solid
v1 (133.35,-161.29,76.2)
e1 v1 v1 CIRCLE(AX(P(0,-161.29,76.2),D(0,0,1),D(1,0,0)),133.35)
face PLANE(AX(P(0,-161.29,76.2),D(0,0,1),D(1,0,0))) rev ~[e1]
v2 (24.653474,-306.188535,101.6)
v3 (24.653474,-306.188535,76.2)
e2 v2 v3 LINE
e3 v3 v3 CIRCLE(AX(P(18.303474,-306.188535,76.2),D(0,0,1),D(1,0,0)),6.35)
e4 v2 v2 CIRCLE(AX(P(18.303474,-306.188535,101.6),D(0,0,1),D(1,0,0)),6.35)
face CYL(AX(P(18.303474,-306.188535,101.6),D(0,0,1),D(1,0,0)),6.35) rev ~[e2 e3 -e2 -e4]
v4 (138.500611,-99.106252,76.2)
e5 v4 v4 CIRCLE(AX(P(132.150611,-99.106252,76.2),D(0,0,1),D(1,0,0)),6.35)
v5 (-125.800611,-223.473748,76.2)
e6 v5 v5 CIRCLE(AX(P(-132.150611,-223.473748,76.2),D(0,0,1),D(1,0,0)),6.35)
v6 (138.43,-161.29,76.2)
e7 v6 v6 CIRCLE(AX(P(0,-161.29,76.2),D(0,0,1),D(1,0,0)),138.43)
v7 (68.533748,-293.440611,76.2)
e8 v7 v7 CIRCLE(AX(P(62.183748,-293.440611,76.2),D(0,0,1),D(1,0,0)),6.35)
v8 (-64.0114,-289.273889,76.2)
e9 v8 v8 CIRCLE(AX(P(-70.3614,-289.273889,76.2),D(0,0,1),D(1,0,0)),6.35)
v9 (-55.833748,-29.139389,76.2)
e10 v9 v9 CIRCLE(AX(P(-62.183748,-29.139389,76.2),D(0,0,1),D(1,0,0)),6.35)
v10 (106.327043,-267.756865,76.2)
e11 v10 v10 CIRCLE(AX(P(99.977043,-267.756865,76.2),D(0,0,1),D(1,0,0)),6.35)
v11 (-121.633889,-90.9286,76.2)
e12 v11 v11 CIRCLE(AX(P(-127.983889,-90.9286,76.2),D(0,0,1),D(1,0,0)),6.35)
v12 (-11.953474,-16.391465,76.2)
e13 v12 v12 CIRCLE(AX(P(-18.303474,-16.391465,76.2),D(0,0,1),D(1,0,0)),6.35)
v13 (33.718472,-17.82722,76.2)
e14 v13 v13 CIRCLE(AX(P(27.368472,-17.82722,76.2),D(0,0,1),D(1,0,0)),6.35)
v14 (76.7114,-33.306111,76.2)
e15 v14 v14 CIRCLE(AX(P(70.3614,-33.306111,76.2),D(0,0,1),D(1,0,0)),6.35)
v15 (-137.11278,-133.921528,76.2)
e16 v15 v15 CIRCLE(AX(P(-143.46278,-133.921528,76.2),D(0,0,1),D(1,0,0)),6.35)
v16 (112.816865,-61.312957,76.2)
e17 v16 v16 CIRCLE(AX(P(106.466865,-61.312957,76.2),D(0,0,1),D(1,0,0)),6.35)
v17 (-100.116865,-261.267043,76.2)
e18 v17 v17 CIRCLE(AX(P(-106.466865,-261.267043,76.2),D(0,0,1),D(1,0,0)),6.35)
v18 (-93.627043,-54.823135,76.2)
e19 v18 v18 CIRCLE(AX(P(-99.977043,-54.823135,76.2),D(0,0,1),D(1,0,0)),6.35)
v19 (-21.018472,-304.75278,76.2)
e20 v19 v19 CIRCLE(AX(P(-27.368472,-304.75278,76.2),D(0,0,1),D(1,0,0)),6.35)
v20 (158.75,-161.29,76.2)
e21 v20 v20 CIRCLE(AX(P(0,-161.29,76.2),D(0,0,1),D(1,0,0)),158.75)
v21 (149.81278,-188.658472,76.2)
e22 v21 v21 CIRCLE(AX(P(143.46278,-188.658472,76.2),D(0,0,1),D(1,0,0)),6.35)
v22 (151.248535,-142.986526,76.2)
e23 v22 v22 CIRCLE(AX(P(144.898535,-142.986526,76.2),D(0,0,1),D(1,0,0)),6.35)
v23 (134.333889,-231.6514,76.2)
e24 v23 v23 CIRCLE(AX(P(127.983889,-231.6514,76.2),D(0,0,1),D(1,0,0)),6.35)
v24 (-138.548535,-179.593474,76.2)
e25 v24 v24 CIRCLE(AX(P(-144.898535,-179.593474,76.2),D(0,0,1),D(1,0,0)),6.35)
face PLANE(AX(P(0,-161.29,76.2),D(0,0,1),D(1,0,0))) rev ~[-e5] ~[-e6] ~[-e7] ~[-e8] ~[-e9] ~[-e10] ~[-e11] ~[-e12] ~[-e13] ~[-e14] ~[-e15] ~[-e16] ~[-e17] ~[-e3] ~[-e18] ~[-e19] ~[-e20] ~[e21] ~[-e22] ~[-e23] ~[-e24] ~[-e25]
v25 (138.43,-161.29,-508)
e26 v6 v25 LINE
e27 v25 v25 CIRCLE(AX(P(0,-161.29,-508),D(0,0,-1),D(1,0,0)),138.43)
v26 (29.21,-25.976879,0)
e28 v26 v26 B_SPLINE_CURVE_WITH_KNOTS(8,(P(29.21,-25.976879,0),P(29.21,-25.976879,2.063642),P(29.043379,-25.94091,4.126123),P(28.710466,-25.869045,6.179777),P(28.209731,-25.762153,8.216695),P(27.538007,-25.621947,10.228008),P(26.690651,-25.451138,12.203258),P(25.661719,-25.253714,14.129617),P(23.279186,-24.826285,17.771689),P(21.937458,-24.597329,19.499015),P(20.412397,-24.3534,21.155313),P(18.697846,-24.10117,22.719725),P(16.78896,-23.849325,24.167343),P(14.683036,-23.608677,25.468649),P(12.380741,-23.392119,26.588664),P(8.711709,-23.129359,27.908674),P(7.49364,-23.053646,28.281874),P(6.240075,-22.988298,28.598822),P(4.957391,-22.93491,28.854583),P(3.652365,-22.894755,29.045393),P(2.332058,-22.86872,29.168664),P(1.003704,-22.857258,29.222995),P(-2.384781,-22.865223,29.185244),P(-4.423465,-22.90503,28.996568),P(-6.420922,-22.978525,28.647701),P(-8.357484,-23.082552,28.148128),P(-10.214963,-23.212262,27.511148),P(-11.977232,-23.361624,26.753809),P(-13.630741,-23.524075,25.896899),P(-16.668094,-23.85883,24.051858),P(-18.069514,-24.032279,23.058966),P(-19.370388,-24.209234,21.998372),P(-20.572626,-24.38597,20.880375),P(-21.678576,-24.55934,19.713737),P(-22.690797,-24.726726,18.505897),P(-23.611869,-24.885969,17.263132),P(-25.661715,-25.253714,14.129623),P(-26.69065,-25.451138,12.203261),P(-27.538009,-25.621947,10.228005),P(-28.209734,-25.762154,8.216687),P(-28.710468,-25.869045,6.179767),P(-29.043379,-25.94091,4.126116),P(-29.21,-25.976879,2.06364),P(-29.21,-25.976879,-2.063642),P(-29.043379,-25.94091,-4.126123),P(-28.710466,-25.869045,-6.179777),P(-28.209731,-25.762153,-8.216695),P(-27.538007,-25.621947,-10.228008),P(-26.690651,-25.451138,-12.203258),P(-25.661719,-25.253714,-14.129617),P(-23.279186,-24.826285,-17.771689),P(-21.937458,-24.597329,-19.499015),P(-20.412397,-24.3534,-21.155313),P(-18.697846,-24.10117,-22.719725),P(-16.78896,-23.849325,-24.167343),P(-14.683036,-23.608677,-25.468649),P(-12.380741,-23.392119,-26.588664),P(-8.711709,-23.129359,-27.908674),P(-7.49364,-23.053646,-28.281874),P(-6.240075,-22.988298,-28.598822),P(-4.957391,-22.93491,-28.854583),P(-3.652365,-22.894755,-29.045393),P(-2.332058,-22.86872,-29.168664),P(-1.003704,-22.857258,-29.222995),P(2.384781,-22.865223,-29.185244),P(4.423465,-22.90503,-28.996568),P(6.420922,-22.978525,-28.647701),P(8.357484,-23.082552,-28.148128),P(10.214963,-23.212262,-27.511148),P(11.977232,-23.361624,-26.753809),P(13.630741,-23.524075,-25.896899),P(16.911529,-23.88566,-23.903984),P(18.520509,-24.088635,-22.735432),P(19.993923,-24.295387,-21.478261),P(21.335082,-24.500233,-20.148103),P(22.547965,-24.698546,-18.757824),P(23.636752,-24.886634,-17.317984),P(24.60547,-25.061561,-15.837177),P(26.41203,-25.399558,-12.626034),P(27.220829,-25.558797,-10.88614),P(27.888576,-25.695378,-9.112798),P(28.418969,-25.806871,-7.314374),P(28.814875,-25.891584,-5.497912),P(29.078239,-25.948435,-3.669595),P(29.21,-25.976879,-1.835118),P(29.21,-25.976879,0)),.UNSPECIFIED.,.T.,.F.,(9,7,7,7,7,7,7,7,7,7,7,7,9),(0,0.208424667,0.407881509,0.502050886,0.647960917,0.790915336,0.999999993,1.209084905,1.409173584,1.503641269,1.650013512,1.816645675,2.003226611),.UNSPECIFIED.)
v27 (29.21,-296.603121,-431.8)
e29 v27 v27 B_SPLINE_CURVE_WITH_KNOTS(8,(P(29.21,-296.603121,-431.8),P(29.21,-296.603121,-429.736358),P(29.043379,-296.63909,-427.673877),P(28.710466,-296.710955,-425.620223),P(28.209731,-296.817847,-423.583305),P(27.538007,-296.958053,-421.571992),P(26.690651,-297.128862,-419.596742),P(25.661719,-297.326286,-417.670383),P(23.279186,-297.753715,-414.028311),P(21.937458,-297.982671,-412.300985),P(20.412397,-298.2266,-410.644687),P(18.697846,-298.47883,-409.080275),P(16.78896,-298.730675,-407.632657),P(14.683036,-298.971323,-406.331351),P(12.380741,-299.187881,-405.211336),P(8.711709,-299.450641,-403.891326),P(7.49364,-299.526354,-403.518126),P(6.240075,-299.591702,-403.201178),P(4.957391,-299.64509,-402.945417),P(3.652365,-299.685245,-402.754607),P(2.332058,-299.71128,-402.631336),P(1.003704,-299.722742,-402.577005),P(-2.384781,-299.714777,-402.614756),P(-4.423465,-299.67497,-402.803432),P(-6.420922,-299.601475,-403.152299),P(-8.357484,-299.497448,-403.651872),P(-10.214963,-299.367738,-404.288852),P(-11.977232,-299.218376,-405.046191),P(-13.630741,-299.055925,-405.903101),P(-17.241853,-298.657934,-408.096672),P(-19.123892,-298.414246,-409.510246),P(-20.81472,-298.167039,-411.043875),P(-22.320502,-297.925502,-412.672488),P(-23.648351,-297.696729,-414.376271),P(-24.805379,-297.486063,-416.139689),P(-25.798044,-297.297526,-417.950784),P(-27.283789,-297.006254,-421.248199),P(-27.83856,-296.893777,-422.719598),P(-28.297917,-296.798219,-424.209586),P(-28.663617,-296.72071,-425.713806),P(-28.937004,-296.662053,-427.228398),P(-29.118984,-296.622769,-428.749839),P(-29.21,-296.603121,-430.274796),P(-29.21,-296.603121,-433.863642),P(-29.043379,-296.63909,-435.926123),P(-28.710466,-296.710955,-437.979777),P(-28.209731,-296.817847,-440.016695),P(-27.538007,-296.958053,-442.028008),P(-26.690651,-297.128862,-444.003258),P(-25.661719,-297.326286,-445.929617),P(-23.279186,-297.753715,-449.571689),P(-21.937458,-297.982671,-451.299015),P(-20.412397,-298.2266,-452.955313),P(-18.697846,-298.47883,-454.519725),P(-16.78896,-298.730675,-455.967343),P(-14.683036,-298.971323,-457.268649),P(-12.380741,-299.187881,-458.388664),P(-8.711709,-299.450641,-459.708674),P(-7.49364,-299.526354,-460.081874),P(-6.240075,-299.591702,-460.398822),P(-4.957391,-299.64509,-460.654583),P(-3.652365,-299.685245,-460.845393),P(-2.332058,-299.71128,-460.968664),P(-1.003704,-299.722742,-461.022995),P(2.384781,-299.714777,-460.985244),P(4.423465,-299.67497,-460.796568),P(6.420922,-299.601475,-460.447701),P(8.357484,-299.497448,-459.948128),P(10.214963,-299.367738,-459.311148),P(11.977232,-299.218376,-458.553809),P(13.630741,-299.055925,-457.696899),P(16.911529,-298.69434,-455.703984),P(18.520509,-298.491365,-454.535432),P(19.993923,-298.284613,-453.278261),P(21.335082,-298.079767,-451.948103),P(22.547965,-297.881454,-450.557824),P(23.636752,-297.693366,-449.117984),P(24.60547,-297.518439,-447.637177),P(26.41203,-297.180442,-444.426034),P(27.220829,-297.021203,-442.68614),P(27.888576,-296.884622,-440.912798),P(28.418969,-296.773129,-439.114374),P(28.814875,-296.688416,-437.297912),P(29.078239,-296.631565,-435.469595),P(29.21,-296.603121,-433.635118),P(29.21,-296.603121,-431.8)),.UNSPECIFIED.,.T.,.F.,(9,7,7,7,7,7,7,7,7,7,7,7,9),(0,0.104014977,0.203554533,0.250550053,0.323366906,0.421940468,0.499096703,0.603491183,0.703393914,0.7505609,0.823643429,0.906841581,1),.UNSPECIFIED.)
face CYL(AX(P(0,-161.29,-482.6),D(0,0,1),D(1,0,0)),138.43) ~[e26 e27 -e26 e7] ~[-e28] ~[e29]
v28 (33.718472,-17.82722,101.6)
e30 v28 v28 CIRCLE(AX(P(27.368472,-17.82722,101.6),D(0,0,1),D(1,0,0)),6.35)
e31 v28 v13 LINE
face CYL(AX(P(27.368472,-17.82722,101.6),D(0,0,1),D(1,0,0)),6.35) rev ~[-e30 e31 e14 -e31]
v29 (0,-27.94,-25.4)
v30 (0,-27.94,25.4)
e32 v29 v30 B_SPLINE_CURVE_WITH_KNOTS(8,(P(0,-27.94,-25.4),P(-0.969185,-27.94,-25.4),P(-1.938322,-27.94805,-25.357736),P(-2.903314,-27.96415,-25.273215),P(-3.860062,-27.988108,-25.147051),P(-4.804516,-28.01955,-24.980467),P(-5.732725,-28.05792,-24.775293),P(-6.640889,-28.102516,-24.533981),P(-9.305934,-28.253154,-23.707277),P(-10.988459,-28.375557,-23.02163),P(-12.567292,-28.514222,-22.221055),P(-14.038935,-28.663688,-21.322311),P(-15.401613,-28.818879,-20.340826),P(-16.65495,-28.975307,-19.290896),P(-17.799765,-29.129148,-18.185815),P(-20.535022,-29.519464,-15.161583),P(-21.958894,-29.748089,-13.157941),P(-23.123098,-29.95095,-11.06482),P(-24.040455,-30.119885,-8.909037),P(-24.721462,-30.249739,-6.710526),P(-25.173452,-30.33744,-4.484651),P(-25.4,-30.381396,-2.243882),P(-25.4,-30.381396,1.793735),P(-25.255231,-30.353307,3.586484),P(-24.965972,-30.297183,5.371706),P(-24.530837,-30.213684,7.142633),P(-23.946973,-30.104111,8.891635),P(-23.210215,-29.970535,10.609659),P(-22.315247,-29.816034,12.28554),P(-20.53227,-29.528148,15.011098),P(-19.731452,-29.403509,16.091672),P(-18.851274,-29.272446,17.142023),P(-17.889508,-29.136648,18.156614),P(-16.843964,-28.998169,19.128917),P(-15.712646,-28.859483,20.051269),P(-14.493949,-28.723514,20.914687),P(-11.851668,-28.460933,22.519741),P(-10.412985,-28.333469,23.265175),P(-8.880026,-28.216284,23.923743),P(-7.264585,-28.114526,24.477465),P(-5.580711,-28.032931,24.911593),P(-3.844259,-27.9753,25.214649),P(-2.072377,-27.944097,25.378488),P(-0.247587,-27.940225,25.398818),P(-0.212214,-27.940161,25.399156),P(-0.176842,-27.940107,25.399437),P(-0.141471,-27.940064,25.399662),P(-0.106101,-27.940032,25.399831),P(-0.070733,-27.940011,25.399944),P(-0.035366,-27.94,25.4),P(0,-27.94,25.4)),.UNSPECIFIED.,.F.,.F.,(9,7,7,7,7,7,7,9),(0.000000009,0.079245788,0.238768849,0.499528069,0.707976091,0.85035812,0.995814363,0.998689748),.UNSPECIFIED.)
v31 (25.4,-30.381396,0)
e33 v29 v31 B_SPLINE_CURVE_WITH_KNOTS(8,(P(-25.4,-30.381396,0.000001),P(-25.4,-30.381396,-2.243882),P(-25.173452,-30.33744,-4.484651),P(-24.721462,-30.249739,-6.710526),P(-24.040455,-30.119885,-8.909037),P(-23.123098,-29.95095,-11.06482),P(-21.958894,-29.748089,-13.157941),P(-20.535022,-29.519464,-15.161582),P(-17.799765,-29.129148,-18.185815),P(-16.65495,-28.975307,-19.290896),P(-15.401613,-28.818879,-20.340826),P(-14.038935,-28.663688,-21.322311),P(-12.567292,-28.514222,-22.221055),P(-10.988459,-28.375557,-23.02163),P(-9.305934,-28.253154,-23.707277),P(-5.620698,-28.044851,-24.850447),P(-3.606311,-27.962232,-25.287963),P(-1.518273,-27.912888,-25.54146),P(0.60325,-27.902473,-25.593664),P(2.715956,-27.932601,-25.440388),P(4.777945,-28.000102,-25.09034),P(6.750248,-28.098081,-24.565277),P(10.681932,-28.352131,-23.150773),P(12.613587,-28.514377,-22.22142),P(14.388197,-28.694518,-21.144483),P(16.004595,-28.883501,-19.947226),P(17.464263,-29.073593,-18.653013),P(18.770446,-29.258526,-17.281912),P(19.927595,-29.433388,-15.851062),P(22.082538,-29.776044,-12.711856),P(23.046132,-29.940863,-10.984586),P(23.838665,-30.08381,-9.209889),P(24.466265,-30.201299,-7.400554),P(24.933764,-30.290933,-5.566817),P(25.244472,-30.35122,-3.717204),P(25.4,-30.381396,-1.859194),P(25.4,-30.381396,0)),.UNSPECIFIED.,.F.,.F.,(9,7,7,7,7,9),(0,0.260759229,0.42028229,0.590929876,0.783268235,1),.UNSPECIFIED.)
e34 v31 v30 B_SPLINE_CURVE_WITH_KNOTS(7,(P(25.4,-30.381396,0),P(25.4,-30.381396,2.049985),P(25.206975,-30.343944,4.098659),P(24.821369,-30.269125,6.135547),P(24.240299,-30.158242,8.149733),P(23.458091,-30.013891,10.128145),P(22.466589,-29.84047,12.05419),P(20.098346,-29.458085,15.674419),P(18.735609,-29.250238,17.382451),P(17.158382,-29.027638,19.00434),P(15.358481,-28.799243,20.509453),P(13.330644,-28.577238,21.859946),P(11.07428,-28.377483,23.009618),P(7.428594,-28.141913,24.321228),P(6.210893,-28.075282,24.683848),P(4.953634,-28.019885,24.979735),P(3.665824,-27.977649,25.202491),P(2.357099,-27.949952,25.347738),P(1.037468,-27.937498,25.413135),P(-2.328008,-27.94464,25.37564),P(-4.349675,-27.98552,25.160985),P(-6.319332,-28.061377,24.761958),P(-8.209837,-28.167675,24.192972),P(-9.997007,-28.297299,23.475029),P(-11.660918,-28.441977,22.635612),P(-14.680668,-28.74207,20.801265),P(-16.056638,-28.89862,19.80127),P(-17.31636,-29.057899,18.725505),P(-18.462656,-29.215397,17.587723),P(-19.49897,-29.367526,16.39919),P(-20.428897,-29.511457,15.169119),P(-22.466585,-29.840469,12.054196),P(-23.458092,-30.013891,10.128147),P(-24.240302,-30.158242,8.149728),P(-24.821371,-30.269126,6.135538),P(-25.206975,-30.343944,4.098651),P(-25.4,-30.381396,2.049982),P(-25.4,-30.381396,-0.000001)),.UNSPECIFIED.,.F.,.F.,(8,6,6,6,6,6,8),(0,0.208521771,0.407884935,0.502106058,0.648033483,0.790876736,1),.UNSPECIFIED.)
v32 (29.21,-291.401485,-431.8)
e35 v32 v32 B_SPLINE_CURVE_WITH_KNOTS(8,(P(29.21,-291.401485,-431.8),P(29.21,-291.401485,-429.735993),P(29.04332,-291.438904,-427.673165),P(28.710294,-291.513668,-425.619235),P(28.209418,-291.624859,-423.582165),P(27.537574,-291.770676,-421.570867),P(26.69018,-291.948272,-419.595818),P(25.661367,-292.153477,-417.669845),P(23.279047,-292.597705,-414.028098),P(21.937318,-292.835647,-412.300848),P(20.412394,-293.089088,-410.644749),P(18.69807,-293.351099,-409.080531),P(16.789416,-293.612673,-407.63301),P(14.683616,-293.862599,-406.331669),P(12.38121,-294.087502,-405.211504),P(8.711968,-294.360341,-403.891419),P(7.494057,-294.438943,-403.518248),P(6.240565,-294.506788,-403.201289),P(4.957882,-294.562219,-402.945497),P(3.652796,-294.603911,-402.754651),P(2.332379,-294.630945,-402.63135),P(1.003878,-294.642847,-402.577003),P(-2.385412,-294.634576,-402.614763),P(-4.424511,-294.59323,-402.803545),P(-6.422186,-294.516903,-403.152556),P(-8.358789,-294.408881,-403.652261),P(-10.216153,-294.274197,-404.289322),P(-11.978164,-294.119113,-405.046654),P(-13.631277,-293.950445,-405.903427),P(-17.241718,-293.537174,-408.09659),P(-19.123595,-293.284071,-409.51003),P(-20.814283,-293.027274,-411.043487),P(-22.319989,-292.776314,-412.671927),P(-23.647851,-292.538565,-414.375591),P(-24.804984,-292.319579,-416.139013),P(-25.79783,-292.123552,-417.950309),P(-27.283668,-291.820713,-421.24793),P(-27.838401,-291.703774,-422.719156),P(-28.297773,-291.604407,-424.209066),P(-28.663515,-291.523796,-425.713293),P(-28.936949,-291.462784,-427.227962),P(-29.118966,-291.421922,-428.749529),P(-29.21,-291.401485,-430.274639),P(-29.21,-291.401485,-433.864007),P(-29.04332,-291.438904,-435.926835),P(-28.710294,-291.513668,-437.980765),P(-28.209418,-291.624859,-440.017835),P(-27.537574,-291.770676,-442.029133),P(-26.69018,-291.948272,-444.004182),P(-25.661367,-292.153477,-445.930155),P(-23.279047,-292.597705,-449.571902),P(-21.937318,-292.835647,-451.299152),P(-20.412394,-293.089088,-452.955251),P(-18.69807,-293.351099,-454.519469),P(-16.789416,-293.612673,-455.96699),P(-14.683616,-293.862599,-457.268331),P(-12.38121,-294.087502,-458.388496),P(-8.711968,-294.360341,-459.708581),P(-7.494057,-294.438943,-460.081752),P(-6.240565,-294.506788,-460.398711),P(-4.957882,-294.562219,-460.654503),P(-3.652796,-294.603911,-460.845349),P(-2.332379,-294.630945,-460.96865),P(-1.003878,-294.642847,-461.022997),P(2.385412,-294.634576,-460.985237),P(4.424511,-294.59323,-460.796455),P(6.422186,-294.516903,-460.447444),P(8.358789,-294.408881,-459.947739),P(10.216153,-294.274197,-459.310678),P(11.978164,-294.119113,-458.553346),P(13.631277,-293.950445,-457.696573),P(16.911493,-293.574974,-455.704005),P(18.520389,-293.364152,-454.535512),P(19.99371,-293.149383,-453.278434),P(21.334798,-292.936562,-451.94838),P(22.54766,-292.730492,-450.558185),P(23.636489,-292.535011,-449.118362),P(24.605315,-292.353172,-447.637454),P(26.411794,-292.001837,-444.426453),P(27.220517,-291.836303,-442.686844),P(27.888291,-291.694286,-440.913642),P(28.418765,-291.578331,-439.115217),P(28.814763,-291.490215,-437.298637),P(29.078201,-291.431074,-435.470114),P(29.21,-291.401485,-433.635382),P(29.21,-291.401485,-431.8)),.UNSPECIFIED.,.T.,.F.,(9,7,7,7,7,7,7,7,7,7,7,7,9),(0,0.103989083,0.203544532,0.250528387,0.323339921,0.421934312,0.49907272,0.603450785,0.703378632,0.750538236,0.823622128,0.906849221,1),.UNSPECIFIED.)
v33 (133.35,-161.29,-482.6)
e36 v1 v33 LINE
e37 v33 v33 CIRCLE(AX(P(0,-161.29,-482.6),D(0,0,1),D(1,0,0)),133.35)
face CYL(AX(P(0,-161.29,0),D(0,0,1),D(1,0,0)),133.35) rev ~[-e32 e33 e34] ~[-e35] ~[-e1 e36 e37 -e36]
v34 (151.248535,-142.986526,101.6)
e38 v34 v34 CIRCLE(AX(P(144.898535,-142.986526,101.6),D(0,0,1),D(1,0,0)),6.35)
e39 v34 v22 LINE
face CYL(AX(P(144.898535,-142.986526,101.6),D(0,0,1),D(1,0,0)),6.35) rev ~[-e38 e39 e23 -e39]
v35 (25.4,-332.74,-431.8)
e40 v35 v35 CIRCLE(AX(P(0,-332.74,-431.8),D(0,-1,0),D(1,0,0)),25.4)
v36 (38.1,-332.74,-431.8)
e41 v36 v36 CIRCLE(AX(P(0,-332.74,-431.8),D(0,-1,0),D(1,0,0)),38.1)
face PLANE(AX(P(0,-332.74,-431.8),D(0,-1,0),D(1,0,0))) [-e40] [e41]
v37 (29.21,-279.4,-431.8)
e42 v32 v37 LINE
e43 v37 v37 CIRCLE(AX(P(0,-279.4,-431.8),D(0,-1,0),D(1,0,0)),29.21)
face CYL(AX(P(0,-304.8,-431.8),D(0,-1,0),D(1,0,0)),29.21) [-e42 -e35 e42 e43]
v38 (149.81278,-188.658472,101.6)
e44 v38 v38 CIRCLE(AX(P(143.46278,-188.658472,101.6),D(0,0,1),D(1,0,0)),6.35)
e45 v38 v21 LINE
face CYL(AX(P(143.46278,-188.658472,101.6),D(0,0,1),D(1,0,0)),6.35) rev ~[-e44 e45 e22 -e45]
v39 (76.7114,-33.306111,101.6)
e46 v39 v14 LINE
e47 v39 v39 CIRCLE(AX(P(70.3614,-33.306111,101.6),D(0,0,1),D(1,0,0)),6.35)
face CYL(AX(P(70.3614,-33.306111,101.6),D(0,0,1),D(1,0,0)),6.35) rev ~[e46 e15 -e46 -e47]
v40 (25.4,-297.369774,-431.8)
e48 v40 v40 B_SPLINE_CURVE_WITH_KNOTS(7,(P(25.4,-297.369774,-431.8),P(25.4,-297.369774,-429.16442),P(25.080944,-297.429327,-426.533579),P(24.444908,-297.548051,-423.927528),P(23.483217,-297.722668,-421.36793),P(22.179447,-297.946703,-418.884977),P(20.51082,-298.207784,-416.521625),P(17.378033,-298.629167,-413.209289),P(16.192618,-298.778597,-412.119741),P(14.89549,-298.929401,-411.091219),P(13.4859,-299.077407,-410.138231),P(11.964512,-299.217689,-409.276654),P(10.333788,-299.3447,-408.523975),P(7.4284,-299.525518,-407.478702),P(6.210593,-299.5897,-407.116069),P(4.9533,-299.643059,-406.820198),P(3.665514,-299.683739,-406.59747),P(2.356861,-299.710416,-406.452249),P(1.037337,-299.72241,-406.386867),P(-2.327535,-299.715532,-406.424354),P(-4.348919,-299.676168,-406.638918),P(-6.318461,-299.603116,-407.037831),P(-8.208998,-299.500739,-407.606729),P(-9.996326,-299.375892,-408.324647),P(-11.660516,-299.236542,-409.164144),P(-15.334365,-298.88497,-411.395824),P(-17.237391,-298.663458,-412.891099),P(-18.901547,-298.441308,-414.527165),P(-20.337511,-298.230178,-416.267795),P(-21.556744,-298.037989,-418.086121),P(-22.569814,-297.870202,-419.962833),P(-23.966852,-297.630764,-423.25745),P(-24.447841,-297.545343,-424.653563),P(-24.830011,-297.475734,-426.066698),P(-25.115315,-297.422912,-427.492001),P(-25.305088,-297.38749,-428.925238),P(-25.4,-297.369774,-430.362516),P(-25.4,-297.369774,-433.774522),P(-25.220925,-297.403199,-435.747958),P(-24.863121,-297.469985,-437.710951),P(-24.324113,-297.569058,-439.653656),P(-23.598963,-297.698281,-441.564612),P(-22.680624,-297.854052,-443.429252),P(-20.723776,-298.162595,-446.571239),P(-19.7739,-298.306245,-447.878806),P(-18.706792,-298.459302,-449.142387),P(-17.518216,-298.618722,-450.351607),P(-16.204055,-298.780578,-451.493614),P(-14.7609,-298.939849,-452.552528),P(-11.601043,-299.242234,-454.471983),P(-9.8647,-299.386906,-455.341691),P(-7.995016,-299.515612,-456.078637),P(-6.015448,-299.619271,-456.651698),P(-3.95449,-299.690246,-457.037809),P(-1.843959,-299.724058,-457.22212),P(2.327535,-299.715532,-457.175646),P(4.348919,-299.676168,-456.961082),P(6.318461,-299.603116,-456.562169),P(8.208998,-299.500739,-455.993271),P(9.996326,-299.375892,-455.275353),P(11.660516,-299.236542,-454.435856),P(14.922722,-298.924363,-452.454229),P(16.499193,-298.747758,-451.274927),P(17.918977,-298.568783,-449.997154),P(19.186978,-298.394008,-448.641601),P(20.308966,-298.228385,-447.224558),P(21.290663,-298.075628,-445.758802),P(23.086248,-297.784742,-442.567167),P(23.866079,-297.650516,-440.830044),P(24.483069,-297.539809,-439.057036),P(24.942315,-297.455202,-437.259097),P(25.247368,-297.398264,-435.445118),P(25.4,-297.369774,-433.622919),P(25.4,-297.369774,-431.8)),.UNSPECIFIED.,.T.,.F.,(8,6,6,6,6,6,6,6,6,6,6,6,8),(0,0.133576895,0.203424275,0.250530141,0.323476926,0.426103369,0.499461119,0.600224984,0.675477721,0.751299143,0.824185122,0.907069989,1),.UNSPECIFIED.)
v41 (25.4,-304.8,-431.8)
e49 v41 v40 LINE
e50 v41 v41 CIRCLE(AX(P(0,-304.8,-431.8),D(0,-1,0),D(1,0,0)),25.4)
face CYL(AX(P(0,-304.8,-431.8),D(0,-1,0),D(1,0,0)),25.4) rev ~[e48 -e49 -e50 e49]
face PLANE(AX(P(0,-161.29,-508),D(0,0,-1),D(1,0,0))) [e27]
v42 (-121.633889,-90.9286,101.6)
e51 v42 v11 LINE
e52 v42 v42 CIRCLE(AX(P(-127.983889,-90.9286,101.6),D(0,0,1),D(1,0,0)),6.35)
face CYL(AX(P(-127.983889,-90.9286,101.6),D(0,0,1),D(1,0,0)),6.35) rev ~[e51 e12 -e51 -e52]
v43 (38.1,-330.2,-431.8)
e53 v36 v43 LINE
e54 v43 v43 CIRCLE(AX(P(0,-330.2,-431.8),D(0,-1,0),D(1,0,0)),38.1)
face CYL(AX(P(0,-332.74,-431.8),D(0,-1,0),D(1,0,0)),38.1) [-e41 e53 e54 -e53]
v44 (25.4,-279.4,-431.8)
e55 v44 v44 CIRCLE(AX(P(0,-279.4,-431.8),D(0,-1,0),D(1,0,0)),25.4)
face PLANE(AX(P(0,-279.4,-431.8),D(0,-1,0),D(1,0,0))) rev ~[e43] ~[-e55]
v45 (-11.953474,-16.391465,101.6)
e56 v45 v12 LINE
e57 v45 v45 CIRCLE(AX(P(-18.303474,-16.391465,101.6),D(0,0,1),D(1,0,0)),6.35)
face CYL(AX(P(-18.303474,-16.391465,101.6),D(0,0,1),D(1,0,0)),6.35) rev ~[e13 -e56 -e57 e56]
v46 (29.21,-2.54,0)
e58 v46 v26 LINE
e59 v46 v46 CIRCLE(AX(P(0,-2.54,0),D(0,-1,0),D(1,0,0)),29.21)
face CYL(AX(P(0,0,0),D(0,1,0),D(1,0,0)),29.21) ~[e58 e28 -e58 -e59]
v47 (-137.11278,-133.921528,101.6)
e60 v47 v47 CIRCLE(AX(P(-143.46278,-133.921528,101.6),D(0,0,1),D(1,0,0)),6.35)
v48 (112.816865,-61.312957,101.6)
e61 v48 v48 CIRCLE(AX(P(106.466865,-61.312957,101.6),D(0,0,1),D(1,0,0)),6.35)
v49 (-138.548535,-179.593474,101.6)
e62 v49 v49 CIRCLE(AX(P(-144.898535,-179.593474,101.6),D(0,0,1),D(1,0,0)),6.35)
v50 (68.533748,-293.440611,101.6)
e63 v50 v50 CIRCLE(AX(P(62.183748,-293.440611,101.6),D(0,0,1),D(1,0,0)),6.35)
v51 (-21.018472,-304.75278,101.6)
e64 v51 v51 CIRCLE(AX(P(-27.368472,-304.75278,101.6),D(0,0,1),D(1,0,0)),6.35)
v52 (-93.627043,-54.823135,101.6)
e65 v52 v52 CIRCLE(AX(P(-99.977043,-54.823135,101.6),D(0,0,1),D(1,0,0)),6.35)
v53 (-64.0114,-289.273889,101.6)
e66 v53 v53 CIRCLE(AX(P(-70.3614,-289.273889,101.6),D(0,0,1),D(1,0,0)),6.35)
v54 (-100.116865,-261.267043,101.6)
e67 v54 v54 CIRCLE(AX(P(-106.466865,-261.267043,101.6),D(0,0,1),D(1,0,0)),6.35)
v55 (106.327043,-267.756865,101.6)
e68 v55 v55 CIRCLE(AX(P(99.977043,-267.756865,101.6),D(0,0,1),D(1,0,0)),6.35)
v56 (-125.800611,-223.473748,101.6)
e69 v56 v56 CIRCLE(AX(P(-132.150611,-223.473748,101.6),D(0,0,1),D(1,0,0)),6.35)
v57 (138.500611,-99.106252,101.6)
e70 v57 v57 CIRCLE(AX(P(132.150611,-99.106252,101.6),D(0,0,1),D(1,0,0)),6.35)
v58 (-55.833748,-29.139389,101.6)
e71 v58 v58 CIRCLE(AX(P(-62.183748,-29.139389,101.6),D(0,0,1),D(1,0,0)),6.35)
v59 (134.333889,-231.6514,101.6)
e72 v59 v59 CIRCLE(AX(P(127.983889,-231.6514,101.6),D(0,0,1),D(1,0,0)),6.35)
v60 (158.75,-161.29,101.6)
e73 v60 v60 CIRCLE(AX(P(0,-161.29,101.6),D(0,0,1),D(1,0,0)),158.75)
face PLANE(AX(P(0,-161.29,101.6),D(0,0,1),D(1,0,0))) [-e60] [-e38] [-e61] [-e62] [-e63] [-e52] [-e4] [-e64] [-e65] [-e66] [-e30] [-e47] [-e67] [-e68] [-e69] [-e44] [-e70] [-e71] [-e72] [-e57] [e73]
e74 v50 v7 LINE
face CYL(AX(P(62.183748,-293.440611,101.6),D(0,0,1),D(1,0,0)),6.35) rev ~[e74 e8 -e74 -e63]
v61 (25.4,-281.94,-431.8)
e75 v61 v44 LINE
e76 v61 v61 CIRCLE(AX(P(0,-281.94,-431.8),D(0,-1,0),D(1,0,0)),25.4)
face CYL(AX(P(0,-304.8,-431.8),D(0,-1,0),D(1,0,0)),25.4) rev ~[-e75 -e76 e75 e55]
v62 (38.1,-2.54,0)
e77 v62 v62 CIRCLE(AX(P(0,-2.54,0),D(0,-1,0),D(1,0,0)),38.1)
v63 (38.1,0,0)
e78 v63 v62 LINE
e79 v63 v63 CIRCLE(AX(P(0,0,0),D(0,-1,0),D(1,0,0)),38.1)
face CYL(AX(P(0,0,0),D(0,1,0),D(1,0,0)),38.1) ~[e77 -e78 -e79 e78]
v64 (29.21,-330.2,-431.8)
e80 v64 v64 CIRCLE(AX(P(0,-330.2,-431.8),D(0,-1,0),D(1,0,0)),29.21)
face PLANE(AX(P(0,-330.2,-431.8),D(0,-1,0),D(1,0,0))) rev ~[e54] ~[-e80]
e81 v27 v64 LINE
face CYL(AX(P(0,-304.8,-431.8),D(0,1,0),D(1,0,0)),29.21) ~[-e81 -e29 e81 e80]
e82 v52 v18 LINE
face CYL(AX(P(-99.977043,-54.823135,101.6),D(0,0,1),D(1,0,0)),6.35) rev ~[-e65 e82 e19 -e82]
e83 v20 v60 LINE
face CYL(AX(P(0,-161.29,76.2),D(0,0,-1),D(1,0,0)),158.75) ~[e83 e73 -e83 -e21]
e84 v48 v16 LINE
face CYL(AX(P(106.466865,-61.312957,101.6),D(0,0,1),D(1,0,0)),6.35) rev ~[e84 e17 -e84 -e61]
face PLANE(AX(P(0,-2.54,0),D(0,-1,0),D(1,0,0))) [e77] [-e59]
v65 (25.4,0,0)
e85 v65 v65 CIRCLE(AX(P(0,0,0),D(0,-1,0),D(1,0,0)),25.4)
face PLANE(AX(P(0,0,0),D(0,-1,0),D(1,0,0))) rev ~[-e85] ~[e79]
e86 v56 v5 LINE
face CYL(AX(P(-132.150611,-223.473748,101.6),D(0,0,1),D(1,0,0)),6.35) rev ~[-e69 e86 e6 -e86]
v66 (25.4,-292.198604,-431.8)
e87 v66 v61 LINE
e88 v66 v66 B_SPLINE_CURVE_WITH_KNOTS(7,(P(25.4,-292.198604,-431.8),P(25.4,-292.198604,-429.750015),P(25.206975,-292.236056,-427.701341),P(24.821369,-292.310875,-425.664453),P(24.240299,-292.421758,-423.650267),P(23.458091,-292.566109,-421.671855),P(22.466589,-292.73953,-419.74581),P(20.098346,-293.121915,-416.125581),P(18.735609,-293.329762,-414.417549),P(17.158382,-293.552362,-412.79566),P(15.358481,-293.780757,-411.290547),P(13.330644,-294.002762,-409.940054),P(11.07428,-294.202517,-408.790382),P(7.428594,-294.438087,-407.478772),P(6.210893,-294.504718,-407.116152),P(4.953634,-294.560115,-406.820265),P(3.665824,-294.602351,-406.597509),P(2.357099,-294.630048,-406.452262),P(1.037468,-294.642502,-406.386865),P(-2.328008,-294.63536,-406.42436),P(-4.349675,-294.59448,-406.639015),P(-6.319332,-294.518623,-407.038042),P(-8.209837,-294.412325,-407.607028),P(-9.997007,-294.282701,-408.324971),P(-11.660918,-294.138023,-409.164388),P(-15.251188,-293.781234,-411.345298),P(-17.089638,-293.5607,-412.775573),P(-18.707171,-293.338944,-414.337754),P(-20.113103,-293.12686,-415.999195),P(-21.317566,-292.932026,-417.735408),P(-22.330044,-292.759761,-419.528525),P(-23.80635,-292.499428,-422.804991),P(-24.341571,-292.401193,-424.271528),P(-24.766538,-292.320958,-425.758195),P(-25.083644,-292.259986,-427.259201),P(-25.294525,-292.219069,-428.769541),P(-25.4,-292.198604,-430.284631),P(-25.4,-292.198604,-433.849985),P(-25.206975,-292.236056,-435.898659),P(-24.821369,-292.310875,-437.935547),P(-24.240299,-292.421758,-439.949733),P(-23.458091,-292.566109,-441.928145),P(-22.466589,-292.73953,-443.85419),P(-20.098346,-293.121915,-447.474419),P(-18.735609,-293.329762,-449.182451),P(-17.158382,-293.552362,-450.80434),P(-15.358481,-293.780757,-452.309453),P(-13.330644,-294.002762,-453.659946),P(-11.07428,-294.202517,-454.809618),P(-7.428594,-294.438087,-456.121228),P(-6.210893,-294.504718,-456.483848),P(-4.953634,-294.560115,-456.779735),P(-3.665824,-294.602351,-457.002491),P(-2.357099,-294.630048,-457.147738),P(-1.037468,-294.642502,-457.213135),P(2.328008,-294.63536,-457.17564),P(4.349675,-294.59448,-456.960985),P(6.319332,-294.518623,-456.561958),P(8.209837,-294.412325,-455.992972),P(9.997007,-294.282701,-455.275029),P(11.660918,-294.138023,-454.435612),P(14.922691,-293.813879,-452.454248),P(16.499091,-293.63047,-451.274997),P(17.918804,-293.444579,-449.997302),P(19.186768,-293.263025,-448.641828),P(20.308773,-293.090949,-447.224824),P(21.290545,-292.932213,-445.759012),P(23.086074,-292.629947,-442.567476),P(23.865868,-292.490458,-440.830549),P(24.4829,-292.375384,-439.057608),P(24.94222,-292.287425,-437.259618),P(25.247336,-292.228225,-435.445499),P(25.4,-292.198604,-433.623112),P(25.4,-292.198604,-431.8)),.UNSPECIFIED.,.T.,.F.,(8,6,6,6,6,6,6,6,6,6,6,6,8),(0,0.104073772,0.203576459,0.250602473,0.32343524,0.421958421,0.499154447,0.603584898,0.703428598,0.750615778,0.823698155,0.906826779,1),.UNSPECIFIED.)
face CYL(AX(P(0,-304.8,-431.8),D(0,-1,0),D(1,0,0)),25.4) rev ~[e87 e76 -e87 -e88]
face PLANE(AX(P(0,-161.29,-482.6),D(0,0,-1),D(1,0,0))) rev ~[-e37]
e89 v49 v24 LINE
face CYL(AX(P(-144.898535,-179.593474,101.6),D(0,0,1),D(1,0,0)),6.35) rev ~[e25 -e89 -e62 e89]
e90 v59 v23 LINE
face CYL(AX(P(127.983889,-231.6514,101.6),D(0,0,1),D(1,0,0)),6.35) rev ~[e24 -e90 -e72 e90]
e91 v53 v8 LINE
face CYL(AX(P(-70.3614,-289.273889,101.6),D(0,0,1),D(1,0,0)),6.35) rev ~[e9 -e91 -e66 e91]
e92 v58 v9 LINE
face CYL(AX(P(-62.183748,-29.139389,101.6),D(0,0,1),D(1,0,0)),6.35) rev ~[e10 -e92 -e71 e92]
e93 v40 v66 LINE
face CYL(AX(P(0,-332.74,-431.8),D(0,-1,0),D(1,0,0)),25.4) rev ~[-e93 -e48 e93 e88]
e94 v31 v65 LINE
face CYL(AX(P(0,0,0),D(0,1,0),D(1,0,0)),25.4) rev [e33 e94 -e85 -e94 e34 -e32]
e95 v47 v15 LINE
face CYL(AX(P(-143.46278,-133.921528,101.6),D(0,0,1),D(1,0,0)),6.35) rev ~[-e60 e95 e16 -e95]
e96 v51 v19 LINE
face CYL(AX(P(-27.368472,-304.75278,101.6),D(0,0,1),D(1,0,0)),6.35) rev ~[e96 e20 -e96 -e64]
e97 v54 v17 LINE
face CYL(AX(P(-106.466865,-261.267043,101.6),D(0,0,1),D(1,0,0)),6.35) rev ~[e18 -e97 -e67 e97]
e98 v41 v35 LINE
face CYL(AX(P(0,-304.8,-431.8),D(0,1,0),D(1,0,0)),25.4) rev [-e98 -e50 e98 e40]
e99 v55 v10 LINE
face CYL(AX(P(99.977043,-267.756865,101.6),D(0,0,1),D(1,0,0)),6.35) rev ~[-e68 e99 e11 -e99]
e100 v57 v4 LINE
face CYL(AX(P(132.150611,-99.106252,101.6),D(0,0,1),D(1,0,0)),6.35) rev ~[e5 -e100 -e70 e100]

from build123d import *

# Parameters (mm, degrees)
F0_R           = 29.21
F0_R_2         = 25.4
F1_DEPTH       = 27.94
F0_R_3         = 38.1
F2_DEPTH       = 2.54
F3_R           = 138.43
F3_R_2         = 133.35
F4_DEPTH       = 76.2
F4_DEPTH_BACK  = 482.6
F5_DEPTH       = 47.498
F6_R           = 158.75
F7_DEPTH       = 25.4
F8_R           = 6.35
F9_DEPTH       = 25.4
F10_R          = 138.43
F11_DEPTH      = 25.4
F13_R          = 29.21
F13_R_2        = 25.4
F14_DEPTH      = 25.4
F14_DEPTH_BACK = 27.94
F15_R          = 38.1
F15_R_2        = 29.21
F16_DEPTH      = 2.54
F15_R_3        = 25.4
F17_DEPTH      = 50.8


with BuildPart() as f1:
    # F0 (on Front) → F1 (new body)
    with BuildSketch(Plane.XZ):
        Circle(F0_R)
        Circle(F0_R_2, mode=Mode.SUBTRACT)
    extrude(amount=F1_DEPTH)

    # F0 (on Front) → F2 (join)
    with BuildSketch(Plane.XZ):
        Circle(F0_R_3)
        Circle(F0_R, mode=Mode.SUBTRACT)
    extrude(amount=F2_DEPTH)

    # F3 (on Top) → F4 (join, two sides)
    with BuildSketch(Plane.XY) as f4_sk:
        with Locations((0, -161.29)):
            Circle(F3_R)
        with Locations((0, -161.29)):
            Circle(F3_R_2, mode=Mode.SUBTRACT)
    extrude(amount=F4_DEPTH)
    extrude(f4_sk.sketch, amount=-F4_DEPTH_BACK)

    # F0 (on Front) → F5 (cut)
    with BuildSketch(Plane.XZ):
        Circle(F0_R_2)
    extrude(amount=F5_DEPTH, mode=Mode.SUBTRACT)

    # F6 (on face) → F7 (join)
    with BuildSketch(Plane.XY.offset(76.2)):
        with Locations((0, -161.29)):
            Circle(F6_R)
    extrude(amount=F7_DEPTH)

    # F8 (on face) → F9 (cut)
    with BuildSketch(Plane.XY.offset(101.6)):
        with Locations((27.3684716826, -17.8272199567)):
            Circle(F8_R)
        with Locations((70.3614004285, -33.306111054)):
            Circle(F8_R)
        with Locations((106.4668650637, -61.3129569175)):
            Circle(F8_R)
        with Locations((132.1506111482, -99.106252339)):
            Circle(F8_R)
        with Locations((144.898534666, -142.9865262412)):
            Circle(F8_R)
        with Locations((143.4627800433, -188.6584716826)):
            Circle(F8_R)
        with Locations((127.983888946, -231.6514004285)):
            Circle(F8_R)
        with Locations((99.9770430825, -267.7568650637)):
            Circle(F8_R)
        with Locations((62.183747661, -293.4406111482)):
            Circle(F8_R)
        with Locations((18.3034737588, -306.188534666)):
            Circle(F8_R)
        with Locations((-27.3684716826, -304.7527800433)):
            Circle(F8_R)
        with Locations((-70.3614004285, -289.273888946)):
            Circle(F8_R)
        with Locations((-106.4668650637, -261.2670430825)):
            Circle(F8_R)
        with Locations((-132.1506111482, -223.473747661)):
            Circle(F8_R)
        with Locations((-144.898534666, -179.5934737588)):
            Circle(F8_R)
        with Locations((-143.4627800433, -133.9215283174)):
            Circle(F8_R)
        with Locations((-127.983888946, -90.9285995715)):
            Circle(F8_R)
        with Locations((-99.9770430825, -54.8231349363)):
            Circle(F8_R)
        with Locations((-18.3034737588, -16.391465334)):
            Circle(F8_R)
        with Locations((-62.183747661, -29.1393888518)):
            Circle(F8_R)
    extrude(amount=-F9_DEPTH, mode=Mode.SUBTRACT)

    # F10 (on face) → F11 (join)
    with BuildSketch(Plane(origin=(0, 0, -482.6), x_dir=(1, 0, 0), z_dir=(0, 0, -1))):
        with Locations((0, 161.29)):
            Circle(F10_R)
    extrude(amount=F11_DEPTH)

    # F13 (on offset) → F14 (join, two sides)
    with BuildSketch(Plane.XZ.offset(304.8)) as f14_sk:
        with Locations((0, -431.8)):
            Circle(F13_R)
        with Locations((0, -431.8)):
            Circle(F13_R_2, mode=Mode.SUBTRACT)
    extrude(amount=-F14_DEPTH)
    extrude(f14_sk.sketch, amount=F14_DEPTH_BACK)

    # F15 (on face) → F16 (join)
    with BuildSketch(Plane.XZ.offset(332.74)):
        with Locations((0, -431.8)):
            Circle(F15_R)
        with Locations((0, -431.8)):
            Circle(F15_R_2, mode=Mode.SUBTRACT)
    extrude(amount=-F16_DEPTH)

    # F15 (on face) → F17 (cut)
    with BuildSketch(Plane.XZ.offset(332.74)):
        with Locations((0, -431.8)):
            Circle(F15_R_3)
    extrude(amount=-F17_DEPTH, mode=Mode.SUBTRACT)


solid = f1.part
